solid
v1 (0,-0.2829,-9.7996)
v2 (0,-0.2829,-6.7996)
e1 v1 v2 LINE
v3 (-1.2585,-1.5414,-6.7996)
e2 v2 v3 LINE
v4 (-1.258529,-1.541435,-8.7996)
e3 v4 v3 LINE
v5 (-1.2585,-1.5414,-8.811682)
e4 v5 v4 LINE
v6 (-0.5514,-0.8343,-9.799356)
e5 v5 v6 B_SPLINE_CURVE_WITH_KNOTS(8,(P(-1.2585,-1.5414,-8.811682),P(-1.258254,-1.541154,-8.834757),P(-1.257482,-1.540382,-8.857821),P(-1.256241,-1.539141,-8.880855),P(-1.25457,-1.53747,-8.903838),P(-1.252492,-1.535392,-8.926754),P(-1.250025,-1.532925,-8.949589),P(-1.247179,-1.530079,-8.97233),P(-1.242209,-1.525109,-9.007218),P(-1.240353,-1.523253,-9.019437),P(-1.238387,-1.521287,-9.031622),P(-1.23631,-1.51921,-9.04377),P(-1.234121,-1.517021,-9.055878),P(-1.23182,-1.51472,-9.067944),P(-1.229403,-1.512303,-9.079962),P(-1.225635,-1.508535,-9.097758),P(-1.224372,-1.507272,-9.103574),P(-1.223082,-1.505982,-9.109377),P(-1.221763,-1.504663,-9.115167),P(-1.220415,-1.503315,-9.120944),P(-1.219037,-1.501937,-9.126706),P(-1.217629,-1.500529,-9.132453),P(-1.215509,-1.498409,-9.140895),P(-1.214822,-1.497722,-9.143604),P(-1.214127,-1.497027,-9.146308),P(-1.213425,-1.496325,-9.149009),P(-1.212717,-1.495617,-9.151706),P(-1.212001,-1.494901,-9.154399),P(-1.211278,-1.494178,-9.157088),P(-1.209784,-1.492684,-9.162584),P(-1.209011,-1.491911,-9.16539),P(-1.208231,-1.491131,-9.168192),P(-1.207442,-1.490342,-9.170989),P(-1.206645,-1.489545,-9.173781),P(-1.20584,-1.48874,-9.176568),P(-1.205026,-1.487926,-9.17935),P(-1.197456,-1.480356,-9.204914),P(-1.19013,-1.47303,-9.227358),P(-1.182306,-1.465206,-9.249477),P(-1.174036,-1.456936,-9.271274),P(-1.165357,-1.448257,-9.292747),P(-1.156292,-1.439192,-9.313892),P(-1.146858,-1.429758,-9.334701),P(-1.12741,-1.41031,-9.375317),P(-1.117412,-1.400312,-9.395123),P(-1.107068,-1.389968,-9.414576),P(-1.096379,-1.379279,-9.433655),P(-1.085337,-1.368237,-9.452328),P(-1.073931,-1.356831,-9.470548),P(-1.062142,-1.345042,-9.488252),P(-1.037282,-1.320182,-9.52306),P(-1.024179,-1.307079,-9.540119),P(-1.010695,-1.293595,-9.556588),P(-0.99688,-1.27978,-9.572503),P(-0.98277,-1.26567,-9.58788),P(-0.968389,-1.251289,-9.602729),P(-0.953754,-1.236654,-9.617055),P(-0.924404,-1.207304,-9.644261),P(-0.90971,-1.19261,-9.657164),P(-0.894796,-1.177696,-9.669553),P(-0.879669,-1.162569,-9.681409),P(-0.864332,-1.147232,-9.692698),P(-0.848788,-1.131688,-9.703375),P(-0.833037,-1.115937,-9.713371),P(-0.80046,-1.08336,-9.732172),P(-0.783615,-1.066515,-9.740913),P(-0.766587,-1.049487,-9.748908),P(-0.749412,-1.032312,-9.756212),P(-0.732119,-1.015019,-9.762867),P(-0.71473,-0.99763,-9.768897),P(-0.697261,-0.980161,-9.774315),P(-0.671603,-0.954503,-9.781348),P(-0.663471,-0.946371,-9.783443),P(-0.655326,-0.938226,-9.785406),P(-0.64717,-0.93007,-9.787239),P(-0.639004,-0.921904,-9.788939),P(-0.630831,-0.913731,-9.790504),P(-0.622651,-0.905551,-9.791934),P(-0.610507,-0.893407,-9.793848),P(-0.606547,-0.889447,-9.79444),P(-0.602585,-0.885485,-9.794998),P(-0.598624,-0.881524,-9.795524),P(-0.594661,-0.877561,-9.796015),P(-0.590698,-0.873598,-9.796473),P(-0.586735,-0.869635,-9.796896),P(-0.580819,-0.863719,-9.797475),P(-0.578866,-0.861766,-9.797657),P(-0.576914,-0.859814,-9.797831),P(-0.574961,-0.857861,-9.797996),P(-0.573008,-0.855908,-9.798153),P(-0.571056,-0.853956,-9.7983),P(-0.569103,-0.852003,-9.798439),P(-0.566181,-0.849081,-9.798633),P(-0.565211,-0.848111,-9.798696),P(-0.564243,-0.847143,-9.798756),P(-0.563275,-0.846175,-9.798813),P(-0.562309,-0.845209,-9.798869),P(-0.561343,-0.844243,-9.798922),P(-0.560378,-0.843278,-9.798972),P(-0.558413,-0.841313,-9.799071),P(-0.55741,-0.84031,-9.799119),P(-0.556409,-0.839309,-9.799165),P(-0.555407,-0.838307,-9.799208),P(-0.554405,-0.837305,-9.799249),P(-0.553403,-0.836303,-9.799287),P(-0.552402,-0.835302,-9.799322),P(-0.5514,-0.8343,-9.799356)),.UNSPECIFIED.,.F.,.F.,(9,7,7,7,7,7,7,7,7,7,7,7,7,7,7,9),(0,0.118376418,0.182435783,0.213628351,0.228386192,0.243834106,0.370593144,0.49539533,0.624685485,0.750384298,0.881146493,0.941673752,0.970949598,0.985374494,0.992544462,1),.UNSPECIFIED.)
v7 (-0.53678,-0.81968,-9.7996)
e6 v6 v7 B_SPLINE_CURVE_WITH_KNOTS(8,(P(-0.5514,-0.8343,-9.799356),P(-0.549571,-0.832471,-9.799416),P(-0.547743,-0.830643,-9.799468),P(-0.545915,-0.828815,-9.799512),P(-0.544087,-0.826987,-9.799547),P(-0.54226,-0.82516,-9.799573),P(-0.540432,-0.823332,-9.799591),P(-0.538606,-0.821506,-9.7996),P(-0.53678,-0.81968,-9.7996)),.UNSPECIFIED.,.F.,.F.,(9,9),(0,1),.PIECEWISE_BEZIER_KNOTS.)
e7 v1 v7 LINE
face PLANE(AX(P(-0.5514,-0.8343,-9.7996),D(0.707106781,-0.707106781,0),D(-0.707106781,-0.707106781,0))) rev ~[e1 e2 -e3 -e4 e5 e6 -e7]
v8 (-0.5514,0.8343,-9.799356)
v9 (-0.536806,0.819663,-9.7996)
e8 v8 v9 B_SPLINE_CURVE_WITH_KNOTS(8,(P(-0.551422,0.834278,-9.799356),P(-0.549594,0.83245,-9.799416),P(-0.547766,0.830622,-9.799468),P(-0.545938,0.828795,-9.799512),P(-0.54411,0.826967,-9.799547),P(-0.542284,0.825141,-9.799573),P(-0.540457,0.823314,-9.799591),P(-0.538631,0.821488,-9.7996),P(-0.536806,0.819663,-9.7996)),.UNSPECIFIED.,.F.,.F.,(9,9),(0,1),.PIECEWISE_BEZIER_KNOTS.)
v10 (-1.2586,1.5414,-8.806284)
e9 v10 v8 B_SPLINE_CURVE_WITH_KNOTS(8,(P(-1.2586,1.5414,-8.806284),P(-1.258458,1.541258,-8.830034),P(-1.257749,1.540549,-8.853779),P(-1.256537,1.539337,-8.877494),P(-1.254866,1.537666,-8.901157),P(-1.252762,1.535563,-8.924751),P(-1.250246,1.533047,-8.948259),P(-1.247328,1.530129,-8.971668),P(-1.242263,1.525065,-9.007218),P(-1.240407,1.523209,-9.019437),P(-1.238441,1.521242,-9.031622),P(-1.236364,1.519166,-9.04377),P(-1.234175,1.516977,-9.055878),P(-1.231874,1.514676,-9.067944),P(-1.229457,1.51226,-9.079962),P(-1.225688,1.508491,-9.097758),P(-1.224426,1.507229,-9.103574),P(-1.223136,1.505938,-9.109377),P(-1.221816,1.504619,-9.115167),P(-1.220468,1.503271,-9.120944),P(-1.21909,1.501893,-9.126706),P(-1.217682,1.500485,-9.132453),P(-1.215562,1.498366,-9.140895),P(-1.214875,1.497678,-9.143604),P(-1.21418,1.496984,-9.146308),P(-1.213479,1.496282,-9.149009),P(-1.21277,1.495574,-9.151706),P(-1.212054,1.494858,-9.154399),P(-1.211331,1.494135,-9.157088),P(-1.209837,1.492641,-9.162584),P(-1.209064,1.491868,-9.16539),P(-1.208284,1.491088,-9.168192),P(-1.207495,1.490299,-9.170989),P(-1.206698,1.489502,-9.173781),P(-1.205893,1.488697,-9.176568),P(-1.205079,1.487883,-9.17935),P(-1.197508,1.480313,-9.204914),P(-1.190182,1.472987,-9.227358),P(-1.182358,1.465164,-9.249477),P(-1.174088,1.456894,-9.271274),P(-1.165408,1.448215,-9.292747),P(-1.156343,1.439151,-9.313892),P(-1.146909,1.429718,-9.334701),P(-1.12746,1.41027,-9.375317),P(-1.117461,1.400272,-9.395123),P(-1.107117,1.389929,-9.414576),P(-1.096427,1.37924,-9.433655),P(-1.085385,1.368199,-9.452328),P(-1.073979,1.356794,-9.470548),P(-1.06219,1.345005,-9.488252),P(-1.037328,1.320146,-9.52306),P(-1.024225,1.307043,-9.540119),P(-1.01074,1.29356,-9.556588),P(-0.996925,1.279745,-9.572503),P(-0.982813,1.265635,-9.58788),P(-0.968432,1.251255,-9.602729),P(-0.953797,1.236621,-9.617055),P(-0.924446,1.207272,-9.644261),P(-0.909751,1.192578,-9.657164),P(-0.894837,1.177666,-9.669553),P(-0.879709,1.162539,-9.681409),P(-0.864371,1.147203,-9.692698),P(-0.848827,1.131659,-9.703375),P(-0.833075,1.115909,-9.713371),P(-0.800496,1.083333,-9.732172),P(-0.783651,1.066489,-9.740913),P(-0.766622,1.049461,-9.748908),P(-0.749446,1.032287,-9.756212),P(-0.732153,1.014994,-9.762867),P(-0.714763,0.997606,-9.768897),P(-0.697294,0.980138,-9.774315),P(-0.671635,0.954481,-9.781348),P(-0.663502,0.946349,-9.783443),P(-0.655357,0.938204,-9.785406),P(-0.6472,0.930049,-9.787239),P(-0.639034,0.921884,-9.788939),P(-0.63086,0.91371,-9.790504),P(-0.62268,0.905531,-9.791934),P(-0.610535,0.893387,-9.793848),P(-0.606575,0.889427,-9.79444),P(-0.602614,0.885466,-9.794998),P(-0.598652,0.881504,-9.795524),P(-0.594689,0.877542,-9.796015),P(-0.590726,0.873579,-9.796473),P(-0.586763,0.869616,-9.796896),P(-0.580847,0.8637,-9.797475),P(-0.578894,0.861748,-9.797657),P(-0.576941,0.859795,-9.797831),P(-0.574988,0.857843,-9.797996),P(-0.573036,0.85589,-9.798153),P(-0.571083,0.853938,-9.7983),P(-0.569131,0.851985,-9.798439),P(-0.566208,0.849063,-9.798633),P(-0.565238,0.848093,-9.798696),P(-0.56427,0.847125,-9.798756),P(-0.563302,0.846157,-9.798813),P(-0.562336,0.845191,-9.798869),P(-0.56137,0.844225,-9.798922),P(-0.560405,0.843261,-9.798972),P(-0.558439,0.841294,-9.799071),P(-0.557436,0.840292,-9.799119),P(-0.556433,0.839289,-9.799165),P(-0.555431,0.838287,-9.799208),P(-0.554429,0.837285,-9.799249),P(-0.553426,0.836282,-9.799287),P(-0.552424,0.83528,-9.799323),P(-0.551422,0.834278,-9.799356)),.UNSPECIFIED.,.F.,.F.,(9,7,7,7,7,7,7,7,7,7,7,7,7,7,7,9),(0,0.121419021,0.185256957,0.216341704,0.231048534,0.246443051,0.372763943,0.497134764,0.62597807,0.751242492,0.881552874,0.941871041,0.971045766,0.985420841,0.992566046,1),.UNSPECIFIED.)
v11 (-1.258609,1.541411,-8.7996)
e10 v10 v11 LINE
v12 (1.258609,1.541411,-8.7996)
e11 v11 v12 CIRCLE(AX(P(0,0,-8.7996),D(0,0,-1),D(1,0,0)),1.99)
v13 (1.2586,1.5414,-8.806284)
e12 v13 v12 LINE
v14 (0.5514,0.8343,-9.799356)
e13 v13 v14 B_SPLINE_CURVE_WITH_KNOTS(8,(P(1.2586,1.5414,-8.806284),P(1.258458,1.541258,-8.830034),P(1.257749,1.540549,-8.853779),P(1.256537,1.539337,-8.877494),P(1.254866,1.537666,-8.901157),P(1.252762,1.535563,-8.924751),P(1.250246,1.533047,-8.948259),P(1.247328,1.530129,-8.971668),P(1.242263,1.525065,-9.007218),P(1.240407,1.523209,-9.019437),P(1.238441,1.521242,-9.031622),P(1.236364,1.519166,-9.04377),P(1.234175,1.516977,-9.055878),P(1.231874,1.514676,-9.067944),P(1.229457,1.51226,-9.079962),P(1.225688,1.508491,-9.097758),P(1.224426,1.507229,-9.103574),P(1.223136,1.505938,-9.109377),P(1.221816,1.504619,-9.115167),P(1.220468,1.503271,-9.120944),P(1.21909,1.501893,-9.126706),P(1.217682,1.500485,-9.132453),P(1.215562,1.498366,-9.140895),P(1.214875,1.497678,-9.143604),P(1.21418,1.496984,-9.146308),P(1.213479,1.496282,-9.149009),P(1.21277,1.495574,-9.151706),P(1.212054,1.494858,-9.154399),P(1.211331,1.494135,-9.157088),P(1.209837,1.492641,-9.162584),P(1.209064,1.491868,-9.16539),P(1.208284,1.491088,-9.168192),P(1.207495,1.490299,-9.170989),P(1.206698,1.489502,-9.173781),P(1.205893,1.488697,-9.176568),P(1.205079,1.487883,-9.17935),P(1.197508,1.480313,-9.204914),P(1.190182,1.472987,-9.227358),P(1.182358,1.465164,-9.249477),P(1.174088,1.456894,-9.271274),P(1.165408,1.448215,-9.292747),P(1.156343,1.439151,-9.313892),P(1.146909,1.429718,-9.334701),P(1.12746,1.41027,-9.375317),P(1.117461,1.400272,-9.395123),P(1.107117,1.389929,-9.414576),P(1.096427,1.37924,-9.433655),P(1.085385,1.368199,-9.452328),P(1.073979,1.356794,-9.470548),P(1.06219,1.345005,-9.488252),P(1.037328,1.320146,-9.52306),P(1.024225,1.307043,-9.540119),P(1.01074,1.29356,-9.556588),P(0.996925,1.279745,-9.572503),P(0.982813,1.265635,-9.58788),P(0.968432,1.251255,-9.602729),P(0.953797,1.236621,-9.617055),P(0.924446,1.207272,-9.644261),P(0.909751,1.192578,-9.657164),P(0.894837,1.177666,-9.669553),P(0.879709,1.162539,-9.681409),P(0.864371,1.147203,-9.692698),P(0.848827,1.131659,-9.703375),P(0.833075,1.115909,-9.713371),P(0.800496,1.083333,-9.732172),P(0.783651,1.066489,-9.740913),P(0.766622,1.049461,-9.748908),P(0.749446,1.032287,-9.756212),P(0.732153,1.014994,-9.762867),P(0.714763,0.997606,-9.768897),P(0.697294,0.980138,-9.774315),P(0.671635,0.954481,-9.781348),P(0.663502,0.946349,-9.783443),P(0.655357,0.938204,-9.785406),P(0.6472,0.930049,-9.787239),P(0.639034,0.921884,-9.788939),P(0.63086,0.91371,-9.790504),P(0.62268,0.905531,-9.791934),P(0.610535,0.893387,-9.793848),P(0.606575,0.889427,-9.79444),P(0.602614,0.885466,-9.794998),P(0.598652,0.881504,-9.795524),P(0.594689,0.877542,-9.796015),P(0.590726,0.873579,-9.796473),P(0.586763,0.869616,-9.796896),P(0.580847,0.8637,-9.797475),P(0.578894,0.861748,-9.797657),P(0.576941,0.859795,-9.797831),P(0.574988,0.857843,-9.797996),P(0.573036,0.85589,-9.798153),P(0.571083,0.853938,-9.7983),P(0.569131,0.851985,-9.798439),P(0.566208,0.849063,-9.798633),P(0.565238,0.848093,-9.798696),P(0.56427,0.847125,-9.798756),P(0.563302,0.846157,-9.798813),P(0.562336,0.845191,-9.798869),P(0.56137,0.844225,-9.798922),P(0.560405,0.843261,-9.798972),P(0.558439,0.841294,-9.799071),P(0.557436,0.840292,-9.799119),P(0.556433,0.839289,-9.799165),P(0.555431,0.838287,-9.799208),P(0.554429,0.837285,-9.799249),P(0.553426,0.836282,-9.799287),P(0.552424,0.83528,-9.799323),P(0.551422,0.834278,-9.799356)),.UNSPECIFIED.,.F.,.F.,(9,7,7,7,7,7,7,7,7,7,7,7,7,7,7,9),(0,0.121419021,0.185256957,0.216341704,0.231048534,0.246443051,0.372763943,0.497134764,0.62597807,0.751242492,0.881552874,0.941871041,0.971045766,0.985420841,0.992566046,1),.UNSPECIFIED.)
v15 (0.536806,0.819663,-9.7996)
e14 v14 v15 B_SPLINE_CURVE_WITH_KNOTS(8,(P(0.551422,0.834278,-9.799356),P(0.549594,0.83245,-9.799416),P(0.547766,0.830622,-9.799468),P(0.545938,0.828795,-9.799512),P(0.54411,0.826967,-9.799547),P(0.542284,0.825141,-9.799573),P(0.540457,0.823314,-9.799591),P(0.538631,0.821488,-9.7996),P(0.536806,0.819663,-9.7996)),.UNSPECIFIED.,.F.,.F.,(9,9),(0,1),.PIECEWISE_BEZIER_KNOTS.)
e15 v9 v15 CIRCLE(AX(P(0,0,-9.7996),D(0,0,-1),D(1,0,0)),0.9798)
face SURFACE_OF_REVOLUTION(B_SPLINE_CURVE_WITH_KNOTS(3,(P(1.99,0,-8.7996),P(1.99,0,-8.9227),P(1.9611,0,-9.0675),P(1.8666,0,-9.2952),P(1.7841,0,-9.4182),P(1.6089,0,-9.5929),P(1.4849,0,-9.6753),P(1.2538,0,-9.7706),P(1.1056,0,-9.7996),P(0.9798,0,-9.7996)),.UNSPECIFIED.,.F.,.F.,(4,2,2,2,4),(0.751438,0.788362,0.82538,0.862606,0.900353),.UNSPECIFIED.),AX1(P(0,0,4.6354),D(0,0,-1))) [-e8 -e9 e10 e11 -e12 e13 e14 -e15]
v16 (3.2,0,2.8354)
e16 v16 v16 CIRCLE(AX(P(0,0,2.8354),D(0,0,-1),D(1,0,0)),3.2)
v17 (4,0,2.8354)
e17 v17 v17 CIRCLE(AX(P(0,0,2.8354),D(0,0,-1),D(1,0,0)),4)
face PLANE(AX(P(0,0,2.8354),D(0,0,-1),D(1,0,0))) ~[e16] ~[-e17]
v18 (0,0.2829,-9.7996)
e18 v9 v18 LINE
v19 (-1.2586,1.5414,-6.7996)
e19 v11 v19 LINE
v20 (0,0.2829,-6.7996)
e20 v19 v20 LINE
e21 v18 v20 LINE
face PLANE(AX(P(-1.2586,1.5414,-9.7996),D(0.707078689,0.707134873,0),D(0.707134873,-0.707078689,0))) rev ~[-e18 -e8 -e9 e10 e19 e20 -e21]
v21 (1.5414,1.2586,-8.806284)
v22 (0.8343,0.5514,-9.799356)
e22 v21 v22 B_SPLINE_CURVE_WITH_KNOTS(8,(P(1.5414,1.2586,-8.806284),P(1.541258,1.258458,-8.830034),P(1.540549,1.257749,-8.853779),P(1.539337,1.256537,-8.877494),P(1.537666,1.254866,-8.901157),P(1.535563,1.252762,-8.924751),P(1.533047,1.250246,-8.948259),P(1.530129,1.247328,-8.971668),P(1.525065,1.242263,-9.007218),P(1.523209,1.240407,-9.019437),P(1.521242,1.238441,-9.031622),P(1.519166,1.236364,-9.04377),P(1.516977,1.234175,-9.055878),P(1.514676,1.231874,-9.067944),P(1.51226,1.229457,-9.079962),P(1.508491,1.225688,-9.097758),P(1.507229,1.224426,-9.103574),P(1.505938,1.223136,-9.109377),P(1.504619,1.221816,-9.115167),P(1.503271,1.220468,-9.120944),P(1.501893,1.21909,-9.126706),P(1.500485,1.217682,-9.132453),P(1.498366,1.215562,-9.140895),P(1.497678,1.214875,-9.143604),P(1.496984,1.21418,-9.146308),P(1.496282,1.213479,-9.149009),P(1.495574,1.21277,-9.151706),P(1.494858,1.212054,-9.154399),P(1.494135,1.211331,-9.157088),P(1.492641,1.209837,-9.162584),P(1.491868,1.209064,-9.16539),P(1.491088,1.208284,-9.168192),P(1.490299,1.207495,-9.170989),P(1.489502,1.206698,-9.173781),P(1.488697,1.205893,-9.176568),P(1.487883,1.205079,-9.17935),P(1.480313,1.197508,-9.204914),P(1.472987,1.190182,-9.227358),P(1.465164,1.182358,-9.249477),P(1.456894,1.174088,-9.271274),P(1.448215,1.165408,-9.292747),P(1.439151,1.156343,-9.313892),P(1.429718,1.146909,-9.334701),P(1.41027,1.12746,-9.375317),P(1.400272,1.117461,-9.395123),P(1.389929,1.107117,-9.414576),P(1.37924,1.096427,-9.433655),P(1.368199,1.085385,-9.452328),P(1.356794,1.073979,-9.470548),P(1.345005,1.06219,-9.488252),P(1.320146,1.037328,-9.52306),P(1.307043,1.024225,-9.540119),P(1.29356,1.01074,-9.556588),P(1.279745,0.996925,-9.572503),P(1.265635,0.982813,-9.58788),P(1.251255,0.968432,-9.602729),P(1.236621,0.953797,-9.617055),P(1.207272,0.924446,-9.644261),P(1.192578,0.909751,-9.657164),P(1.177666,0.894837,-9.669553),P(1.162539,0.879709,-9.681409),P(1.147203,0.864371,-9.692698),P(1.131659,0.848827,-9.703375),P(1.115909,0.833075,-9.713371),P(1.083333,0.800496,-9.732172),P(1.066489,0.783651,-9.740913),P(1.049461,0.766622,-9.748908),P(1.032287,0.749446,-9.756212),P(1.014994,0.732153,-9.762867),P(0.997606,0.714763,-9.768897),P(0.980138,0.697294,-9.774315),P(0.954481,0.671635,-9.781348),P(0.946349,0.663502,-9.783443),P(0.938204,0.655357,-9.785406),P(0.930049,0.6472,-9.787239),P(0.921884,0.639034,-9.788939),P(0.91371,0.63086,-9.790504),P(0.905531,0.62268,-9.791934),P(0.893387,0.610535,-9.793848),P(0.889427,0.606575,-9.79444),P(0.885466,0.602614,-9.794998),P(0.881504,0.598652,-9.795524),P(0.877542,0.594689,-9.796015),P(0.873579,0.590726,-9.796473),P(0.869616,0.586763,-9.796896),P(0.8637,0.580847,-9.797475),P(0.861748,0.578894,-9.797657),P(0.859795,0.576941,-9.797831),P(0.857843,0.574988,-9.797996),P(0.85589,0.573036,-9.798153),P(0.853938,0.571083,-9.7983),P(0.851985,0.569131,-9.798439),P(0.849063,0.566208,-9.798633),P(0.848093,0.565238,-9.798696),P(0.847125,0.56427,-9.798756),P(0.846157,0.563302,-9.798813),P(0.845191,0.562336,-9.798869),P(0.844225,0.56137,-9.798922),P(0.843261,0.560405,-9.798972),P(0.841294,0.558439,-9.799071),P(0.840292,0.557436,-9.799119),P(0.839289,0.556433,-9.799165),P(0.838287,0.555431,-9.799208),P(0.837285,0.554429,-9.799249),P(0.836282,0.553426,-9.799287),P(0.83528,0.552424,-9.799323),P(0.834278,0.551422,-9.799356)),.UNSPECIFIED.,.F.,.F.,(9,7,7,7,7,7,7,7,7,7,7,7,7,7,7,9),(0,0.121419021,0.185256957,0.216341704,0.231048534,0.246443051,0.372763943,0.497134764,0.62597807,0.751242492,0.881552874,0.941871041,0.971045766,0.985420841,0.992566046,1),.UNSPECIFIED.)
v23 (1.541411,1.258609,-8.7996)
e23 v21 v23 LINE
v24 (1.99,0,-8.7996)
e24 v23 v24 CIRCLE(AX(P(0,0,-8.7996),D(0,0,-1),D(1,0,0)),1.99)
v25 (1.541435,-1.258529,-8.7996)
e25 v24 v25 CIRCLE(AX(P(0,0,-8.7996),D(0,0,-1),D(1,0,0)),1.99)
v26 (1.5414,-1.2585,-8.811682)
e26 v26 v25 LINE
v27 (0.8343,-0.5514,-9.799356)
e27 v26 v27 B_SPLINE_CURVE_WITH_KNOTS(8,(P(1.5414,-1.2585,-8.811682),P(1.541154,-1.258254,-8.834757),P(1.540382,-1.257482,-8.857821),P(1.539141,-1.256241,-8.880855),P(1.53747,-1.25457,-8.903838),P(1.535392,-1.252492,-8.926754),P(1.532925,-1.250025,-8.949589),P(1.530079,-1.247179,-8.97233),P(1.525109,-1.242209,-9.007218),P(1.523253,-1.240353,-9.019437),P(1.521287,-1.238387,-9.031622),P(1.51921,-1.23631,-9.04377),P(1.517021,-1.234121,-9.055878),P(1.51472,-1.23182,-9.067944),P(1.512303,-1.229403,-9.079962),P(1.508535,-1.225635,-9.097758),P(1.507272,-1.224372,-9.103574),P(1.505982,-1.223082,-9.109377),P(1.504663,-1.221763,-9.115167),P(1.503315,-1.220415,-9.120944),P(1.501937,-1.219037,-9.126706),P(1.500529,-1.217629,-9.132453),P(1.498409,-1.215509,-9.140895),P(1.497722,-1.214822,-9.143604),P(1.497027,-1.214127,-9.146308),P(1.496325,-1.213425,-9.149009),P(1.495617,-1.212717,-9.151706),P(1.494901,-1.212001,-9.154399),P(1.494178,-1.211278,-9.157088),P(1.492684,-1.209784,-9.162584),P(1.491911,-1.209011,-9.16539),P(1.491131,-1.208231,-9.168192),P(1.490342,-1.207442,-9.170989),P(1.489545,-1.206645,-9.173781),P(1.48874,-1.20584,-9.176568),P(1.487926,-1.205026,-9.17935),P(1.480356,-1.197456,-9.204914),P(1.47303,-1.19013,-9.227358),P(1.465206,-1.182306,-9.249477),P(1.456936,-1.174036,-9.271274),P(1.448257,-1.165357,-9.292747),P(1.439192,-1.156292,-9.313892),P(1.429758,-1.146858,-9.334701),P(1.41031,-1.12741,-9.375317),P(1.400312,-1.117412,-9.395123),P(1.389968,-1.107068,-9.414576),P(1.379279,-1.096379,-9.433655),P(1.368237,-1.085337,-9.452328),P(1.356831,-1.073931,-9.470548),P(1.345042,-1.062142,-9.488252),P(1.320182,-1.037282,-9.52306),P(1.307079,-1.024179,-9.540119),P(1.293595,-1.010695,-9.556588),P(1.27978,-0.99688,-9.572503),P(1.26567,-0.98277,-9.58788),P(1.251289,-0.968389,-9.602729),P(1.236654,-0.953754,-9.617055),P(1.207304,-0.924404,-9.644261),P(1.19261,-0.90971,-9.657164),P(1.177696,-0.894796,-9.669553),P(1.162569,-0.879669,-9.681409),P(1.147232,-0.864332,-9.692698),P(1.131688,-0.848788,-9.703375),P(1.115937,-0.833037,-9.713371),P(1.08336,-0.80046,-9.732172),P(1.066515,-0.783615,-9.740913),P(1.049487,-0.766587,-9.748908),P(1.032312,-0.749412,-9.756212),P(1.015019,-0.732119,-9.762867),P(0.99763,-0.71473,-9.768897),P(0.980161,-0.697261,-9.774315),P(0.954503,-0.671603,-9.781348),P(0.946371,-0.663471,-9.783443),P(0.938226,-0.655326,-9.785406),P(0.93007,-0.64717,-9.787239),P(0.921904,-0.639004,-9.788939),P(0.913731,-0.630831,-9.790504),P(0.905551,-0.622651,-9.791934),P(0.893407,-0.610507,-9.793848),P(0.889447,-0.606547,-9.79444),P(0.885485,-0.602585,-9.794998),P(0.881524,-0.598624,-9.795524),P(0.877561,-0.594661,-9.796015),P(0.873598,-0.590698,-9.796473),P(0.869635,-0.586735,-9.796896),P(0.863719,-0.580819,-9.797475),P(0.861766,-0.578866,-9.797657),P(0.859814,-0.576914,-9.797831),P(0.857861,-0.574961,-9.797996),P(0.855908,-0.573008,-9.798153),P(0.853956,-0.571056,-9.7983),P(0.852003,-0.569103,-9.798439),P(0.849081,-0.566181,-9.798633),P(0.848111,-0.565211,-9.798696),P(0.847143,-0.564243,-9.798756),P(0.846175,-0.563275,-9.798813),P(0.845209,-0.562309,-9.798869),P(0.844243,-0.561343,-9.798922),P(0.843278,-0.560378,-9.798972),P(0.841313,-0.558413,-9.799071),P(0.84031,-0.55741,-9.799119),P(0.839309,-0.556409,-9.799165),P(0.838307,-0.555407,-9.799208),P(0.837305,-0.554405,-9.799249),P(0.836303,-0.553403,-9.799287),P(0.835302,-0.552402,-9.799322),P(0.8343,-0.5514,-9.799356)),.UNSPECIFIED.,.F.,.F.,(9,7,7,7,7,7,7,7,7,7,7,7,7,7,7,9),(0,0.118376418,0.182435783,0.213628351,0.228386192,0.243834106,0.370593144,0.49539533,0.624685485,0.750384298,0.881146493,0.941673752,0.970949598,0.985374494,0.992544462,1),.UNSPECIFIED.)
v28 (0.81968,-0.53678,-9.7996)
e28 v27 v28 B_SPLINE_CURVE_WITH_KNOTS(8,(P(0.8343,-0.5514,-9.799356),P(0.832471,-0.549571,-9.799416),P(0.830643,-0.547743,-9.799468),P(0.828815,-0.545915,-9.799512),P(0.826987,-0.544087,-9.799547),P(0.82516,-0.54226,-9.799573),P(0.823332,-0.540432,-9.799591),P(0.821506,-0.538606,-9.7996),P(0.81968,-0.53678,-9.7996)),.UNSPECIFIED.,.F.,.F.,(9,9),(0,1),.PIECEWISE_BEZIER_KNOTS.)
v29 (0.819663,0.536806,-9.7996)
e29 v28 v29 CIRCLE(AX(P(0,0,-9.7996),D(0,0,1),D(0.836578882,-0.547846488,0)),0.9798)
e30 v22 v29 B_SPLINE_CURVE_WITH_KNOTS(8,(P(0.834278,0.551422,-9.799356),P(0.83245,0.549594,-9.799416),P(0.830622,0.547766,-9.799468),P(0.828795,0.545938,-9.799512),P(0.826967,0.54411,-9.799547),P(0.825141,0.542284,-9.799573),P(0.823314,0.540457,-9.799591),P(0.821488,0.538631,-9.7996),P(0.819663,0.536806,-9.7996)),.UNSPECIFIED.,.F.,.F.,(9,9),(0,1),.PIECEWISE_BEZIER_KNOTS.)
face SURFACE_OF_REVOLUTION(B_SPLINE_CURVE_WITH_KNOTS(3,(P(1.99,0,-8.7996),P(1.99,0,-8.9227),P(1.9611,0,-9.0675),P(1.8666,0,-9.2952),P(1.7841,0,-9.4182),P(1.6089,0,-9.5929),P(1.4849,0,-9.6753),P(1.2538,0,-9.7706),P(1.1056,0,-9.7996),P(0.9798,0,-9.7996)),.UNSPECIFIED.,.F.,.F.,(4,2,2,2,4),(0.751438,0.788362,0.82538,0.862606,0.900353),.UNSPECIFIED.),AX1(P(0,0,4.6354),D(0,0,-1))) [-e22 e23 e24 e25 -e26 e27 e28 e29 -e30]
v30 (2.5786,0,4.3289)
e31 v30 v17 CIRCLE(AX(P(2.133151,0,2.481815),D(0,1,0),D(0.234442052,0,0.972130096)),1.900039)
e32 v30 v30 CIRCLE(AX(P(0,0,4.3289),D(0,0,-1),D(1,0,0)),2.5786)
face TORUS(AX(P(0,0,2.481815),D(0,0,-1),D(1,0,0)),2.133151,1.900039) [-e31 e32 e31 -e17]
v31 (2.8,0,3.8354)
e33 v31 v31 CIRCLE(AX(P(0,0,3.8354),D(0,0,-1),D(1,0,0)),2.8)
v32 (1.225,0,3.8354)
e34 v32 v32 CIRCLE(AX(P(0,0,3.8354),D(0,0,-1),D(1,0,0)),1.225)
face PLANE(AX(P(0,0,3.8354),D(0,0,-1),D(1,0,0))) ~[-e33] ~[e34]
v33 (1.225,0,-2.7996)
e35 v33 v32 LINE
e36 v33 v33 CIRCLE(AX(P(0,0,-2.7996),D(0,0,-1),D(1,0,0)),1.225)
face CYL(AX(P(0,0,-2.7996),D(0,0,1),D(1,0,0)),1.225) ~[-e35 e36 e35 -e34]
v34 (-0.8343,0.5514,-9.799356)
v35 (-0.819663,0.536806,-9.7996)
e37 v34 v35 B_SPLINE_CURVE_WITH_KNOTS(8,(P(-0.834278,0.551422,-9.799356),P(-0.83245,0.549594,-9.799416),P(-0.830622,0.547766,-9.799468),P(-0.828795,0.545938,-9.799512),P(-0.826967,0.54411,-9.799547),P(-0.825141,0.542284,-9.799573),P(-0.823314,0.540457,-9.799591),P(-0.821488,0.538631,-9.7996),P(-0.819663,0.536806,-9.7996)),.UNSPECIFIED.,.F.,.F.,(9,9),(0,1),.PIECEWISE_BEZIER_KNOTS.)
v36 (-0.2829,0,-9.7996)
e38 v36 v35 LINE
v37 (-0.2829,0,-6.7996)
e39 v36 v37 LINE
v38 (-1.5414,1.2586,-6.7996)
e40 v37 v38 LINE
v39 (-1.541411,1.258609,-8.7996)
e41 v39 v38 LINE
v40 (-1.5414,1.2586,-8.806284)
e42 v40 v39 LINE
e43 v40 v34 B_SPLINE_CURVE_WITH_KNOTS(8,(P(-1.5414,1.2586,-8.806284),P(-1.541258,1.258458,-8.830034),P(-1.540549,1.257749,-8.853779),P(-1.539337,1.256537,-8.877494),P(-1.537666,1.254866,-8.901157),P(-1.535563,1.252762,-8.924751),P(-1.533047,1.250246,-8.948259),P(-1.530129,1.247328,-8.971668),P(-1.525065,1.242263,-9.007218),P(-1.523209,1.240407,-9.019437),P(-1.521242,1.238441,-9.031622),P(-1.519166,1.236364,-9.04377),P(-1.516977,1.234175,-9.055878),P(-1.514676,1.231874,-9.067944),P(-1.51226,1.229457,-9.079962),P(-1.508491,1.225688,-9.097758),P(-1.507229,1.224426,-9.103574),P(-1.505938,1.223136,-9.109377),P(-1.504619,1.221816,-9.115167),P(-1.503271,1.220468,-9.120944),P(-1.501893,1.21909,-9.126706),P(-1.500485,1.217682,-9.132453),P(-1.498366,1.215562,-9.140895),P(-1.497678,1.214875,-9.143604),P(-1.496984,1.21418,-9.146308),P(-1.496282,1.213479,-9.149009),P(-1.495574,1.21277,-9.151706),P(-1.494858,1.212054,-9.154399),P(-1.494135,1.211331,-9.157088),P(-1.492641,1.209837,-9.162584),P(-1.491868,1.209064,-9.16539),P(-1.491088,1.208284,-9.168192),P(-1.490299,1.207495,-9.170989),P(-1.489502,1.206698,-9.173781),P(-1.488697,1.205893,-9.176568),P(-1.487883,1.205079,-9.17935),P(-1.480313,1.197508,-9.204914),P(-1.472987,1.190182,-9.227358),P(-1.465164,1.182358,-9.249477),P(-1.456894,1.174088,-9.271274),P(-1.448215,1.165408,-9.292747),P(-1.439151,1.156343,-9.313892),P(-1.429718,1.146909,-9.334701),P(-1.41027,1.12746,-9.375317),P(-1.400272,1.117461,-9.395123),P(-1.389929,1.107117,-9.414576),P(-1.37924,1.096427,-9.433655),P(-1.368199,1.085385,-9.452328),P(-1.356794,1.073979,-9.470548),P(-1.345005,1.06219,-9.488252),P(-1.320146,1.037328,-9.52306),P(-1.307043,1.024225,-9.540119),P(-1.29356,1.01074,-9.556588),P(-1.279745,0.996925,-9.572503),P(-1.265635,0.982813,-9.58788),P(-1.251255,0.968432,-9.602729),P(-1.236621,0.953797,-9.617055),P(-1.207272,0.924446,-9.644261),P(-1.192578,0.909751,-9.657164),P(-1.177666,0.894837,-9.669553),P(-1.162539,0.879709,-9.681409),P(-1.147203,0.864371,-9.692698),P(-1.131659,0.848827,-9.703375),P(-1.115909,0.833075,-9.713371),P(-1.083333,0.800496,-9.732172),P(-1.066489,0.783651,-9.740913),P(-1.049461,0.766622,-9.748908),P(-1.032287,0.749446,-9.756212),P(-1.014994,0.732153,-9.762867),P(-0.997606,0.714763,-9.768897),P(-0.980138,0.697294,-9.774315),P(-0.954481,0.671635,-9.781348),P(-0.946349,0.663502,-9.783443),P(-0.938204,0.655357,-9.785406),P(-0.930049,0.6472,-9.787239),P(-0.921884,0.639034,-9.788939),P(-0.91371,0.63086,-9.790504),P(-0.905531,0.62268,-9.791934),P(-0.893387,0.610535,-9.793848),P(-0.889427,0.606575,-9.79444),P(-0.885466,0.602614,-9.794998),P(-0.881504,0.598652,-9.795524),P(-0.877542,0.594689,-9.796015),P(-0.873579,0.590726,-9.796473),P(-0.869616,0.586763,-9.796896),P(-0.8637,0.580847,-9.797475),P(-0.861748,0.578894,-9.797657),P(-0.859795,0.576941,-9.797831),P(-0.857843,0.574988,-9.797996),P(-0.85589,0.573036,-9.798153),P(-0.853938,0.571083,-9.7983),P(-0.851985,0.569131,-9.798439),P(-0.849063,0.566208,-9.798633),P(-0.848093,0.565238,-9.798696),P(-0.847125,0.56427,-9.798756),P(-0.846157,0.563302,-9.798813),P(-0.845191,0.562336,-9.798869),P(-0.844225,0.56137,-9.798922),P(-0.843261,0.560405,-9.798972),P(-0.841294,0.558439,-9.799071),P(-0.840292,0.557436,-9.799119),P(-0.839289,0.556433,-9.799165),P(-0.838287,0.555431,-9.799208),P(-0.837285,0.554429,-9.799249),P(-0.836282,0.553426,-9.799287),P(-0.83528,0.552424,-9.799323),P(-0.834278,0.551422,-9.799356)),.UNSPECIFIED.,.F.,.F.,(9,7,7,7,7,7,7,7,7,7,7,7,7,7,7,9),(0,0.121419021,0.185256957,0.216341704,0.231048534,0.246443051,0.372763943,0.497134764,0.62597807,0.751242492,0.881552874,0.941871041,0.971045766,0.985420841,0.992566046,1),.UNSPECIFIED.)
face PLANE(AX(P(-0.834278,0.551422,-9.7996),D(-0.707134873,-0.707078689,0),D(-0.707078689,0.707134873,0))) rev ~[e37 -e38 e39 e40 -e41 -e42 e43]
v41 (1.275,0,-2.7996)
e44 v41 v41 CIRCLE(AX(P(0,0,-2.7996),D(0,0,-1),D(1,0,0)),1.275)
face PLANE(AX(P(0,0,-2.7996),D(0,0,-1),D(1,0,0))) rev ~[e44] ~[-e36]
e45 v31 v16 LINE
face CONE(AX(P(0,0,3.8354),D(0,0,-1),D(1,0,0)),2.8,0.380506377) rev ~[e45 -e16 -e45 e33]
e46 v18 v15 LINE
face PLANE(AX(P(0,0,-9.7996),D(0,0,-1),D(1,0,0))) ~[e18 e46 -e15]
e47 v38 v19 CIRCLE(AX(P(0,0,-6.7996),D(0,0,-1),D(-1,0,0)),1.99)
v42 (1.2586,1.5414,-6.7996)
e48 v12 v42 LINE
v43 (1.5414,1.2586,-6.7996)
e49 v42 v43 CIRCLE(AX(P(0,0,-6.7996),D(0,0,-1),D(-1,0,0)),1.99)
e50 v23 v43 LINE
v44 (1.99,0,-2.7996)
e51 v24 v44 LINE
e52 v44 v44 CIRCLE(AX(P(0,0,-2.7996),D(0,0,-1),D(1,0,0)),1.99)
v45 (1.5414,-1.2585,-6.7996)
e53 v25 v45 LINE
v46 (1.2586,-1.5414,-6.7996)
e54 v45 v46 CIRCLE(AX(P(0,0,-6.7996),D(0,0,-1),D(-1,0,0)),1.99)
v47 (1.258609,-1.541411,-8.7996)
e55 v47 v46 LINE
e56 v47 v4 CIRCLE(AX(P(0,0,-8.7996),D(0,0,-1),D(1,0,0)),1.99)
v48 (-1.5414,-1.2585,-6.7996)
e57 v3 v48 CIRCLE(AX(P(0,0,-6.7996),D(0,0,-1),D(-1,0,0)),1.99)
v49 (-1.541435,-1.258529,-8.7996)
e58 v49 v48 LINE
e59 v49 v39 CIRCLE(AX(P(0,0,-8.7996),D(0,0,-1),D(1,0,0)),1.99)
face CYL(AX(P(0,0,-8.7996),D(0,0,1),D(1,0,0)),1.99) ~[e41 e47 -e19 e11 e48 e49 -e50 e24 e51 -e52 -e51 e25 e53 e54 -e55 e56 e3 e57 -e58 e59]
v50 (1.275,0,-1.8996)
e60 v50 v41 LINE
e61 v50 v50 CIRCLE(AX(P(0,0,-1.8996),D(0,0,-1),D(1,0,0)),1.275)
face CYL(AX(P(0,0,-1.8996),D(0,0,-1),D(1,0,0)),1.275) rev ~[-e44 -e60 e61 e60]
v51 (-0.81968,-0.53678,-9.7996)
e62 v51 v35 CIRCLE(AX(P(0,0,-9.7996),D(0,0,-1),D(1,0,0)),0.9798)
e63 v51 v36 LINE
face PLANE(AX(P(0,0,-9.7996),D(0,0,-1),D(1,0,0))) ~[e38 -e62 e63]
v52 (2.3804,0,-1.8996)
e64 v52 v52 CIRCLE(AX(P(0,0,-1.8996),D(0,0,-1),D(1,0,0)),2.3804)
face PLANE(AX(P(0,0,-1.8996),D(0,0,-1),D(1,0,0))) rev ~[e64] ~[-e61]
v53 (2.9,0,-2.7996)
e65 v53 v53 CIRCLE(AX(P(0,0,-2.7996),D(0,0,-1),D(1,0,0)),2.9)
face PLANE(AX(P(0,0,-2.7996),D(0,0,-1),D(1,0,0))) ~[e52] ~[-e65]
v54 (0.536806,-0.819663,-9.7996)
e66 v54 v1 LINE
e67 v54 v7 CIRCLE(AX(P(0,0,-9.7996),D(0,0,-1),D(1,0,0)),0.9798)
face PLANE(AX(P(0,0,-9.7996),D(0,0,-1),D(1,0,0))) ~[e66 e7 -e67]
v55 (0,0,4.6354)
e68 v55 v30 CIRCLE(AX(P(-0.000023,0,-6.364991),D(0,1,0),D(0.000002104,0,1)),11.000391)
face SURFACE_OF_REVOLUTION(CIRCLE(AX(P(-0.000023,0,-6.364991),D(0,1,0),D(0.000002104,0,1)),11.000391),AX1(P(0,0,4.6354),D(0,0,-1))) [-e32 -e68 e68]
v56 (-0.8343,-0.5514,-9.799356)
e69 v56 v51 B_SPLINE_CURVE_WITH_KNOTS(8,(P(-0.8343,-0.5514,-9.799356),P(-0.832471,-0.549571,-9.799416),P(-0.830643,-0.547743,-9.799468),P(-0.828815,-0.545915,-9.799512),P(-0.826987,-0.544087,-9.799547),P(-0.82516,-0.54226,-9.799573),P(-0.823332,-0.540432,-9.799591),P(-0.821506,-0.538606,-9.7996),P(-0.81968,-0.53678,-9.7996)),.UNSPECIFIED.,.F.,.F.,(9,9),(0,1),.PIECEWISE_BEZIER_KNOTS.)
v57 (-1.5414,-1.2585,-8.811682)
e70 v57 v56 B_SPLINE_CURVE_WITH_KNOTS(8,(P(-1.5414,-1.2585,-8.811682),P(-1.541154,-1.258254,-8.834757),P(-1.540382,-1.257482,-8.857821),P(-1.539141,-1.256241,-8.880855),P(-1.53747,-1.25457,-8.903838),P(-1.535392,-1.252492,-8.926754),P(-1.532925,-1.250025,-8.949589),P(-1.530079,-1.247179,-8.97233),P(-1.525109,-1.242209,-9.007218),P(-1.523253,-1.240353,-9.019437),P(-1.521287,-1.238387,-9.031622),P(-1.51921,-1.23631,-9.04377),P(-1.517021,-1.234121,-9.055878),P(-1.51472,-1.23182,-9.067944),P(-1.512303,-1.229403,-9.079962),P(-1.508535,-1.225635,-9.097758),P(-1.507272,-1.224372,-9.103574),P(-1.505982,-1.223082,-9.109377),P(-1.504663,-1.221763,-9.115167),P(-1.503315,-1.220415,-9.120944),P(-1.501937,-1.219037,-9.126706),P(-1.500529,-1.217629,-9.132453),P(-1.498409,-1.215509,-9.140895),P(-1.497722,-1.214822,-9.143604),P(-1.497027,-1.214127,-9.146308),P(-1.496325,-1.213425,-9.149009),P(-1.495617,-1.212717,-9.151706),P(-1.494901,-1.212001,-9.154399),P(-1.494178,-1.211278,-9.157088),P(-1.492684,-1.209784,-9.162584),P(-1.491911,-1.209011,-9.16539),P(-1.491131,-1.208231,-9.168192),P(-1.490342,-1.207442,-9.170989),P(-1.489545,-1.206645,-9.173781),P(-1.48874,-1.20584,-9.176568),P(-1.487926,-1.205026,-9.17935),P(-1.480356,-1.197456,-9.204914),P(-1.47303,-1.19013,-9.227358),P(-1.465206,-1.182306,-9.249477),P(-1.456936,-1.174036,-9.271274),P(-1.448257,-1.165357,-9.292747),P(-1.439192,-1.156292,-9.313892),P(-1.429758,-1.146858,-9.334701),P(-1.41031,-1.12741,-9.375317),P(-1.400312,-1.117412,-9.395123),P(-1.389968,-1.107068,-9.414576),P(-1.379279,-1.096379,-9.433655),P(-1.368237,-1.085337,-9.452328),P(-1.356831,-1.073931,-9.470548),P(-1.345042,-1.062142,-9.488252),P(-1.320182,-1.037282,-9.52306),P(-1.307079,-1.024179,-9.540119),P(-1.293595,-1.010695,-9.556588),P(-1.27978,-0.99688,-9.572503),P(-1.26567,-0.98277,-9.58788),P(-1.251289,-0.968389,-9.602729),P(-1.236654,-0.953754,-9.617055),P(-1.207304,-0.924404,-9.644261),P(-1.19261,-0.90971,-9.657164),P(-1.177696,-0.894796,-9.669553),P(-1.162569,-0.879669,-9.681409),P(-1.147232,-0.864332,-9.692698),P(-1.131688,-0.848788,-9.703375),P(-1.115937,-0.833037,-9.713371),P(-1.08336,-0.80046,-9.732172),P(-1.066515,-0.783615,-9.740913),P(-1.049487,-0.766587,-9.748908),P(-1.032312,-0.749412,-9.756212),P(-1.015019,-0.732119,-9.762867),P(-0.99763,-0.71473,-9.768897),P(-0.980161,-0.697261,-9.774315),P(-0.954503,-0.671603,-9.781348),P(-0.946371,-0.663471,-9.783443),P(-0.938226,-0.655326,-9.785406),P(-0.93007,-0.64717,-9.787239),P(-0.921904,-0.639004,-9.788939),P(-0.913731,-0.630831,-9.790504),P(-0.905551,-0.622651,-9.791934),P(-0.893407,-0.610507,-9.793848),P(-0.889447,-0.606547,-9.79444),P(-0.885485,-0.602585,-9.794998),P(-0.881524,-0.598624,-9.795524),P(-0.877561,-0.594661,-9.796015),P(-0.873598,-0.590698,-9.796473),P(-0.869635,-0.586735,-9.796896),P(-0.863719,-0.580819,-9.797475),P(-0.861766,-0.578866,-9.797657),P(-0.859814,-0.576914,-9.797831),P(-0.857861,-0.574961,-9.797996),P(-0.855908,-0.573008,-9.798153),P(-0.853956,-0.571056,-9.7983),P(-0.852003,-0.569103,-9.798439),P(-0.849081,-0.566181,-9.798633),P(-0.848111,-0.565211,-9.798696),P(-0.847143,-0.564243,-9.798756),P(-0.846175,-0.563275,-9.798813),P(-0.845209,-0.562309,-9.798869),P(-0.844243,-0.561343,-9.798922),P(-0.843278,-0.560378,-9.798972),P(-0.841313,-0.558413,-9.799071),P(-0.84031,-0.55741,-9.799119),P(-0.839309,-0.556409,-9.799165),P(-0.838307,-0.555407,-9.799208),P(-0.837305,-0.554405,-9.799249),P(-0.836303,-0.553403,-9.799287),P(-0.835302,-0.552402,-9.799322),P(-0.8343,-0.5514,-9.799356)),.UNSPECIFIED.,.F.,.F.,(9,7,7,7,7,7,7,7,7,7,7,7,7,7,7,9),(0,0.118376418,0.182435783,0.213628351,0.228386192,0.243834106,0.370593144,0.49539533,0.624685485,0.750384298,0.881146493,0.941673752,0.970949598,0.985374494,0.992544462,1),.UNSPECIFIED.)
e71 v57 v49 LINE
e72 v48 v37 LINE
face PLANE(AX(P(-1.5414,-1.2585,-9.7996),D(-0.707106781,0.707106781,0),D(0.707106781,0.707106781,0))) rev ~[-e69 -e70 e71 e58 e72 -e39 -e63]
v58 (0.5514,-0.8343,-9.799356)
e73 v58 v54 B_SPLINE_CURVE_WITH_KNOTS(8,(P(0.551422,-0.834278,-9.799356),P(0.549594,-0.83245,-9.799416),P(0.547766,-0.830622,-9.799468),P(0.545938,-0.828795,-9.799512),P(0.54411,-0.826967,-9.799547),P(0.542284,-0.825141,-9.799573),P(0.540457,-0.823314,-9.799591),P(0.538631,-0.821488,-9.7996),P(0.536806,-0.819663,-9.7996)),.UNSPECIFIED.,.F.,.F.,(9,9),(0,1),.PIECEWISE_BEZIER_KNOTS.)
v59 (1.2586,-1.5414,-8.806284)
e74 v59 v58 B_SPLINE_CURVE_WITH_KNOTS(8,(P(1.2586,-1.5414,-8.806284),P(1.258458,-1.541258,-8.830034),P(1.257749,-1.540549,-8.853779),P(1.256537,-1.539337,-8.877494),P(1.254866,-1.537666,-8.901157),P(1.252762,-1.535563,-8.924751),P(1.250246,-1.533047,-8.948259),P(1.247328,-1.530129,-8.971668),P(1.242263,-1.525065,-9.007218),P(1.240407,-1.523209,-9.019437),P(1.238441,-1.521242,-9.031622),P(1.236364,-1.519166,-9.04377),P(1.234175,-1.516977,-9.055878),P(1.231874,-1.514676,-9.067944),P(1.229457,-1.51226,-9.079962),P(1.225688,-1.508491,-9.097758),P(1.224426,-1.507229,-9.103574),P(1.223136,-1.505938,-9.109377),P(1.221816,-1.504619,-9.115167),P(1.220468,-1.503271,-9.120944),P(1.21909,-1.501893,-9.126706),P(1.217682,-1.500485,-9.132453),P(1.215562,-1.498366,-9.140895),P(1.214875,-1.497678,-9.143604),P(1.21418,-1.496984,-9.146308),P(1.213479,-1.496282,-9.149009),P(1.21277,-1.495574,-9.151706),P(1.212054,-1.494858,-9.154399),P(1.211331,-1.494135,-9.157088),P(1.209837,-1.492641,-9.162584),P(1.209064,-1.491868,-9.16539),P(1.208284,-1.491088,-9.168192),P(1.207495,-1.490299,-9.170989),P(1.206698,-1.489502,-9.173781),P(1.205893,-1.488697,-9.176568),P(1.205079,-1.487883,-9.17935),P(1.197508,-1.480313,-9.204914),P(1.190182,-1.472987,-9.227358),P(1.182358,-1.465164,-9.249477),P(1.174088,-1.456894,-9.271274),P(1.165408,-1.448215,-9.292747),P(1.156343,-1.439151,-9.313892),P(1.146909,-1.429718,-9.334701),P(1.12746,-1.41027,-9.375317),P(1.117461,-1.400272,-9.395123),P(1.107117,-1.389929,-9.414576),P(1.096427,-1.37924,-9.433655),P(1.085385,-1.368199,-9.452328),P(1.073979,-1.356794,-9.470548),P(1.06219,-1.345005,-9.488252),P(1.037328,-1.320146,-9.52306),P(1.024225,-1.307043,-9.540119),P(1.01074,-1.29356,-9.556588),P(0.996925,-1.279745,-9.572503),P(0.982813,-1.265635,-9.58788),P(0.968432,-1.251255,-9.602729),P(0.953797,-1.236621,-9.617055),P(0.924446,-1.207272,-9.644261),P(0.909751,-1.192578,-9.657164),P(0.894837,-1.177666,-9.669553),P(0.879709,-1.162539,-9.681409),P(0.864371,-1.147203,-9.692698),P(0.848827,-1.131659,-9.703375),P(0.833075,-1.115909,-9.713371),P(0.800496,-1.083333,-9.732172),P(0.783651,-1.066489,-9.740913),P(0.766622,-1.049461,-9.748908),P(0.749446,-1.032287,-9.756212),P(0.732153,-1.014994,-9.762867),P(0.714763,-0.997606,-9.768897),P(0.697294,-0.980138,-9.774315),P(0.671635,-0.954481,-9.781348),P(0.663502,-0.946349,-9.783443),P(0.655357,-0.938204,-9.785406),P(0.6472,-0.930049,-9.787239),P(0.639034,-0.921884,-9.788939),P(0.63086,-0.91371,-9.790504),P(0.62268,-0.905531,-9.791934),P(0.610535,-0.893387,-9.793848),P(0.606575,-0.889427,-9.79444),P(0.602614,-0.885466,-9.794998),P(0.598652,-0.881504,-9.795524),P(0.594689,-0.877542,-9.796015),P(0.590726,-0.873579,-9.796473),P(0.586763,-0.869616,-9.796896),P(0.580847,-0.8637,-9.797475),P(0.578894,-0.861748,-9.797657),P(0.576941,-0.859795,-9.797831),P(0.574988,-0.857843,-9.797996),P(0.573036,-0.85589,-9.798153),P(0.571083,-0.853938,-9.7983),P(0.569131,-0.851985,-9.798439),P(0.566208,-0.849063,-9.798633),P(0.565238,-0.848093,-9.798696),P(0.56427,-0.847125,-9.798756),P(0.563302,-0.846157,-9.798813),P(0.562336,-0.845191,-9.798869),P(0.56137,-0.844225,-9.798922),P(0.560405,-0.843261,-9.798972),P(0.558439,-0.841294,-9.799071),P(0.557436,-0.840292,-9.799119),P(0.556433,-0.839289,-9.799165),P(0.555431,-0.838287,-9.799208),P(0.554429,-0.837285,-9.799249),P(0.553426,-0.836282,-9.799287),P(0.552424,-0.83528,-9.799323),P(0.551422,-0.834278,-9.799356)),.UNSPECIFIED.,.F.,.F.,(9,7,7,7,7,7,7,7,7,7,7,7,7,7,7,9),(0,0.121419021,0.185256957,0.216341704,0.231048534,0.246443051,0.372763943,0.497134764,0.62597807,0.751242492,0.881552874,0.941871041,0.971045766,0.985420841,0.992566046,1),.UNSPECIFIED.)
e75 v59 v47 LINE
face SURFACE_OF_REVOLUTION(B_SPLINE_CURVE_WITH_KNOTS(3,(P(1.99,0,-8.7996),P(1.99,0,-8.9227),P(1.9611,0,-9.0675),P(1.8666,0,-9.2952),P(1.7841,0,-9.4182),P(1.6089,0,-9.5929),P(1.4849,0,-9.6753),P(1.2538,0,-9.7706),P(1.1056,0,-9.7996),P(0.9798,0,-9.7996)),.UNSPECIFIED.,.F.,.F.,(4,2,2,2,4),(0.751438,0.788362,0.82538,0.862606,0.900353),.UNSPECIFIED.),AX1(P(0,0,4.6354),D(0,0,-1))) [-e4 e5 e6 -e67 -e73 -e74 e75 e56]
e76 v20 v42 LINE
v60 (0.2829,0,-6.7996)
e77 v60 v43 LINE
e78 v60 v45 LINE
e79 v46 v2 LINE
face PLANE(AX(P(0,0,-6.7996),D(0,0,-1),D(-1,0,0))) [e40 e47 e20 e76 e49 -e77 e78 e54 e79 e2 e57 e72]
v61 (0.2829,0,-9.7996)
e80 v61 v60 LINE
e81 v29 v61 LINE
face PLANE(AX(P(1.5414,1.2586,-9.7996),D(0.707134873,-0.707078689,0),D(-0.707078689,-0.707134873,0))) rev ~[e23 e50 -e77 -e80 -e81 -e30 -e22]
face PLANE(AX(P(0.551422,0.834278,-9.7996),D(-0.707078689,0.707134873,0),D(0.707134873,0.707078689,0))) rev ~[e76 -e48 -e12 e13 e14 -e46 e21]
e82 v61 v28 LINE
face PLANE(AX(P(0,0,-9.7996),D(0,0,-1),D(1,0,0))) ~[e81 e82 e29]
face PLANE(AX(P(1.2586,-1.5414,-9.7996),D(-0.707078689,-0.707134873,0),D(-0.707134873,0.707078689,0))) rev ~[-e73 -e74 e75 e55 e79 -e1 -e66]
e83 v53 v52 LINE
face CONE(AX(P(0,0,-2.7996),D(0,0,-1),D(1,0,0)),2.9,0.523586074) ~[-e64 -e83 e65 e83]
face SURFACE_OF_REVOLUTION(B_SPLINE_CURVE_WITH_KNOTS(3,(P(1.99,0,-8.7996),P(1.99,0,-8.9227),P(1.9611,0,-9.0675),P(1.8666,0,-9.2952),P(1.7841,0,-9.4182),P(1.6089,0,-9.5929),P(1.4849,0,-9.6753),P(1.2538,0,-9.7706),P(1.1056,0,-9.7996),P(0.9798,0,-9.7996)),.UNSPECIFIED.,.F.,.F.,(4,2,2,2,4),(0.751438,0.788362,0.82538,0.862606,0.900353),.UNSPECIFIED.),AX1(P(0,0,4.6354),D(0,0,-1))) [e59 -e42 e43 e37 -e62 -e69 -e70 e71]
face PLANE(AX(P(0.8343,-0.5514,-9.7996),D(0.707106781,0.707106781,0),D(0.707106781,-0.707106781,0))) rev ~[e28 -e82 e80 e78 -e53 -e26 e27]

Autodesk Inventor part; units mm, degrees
ref_plane "YZ Plane" through (0, 0, 0) normal (1, 0, 0) x (0, 1, 0)
ref_plane "XZ Plane" through (0, 0, 0) normal (0, 1, 0) x (-1, 0, 0)
ref_plane "XY Plane" through (0, 0, 0) normal (0, 0, 1) x (1, 0, 0)
sketch "Sketch1" plane through (0, 0, 0) normal (0, 1, 0) x (-1, 0, 0)
  line L0 (-1.99, -2.7996) -> (-2.9, -2.7996)
  line L1 (-2.9, -2.7996) -> (-2.3804, -1.8996)
  line L2 (-2.3804, -1.8996) -> (-1.275, -1.8996)
  line L3 (-1.275, -1.8996) -> (-1.275, -2.7996)
  line L4 (-1.275, -2.7996) -> (-1.225, -2.7996)
  line L5 (-1.225, -2.7996) -> (-1.225, 3.8354)
  line L6 (-1.225, 3.8354) -> (-2.8, 3.8354)
  line L7 (-2.8, 3.8354) -> (-3.2, 2.8354)
  line L8 (-3.2, 2.8354) -> (-4, 2.8354)
  arc A0 (-2.5786, 4.3289) -> (-4, 2.8354) centre (-2.1332, 2.4819) ccw
  arc A1 (0, 4.6354) -> (-2.5786, 4.3289) centre (0, -6.3646) ccw
  line L9 (-1.99, -8.7996) -> (-1.99, -2.7996)
  spline S0 degree 3 poles (-1.99, -8.7996) (-1.99, -8.9227) (-1.9611, -9.0675) (-1.8666, -9.2952) (-1.7841, -9.4182) (-1.6089, -9.5929) (-1.4849, -9.6753) (-1.2538, -9.7706) (-1.1056, -9.7996) (-0.9798, -9.7996) knots 0.751438 0.751438 0.751438 0.751438 0.788362 0.788362 0.82538 0.82538 0.862606 0.862606 0.900353 0.900353 0.900353 0.900353
  line L10 (0, 4.6354) -> (0, -9.7996)
  line L11 (0, -9.7996) -> (-0.9798, -9.7996)
  point P0 (0, 0)
  point P1 (0, 0)
revolve "Revolution1" add sketch "Sketch1" angle 360 about axis through (0, 0, 4.6354) along (0, 0, -1)
sketch "Sketch2" plane through (0, 0, -9.7996) normal (0, 0, -1) x (-1, 0, 0)
  line L0 (0, 0.2829) -> (-1.2586, 1.5414)
  arc A0 (0.5514, 0.8343) -> (-0.5514, 0.8343) centre (0, 0) ccw
  line L1 (1.2586, 1.5414) -> (0, 0.2829)
  line L2 (0, -0.2829) -> (1.2585, -1.5414)
  arc A1 (-0.5514, -0.8343) -> (0.5514, -0.8343) centre (0, 0) ccw
  line L3 (-1.2586, -1.5414) -> (0, -0.2829)
  line L4 (0.2829, 0) -> (1.5414, 1.2586)
  arc A2 (0.8343, -0.5514) -> (0.8343, 0.5514) centre (0, 0) ccw
  line L5 (1.5414, -1.2585) -> (0.2829, 0)
  arc A3 (-0.8343, 0.5514) -> (-0.8343, -0.5514) centre (0, 0) ccw
  line L6 (-0.2829, 0) -> (-1.5414, -1.2585)
  line L7 (-1.5414, 1.2586) -> (-0.2829, 0)
  arc A4 (-1.2657, -1.5485) -> (1.2657, -1.5485) centre (0, 0) ccw
  circle A5 centre (0, 0) radius 1.99 projected
  point P0 (0, 0)
  point P1 (0, 0)
  point P2 (-1.99, 0)
extrude "Extrusion1" cut sketch "Sketch2" against normal blind 3 contours L1 A5 L4 L5 L2 L3 L6 L7 L0
properties part number "11-6002" material "Polystyrene, High Impact"
